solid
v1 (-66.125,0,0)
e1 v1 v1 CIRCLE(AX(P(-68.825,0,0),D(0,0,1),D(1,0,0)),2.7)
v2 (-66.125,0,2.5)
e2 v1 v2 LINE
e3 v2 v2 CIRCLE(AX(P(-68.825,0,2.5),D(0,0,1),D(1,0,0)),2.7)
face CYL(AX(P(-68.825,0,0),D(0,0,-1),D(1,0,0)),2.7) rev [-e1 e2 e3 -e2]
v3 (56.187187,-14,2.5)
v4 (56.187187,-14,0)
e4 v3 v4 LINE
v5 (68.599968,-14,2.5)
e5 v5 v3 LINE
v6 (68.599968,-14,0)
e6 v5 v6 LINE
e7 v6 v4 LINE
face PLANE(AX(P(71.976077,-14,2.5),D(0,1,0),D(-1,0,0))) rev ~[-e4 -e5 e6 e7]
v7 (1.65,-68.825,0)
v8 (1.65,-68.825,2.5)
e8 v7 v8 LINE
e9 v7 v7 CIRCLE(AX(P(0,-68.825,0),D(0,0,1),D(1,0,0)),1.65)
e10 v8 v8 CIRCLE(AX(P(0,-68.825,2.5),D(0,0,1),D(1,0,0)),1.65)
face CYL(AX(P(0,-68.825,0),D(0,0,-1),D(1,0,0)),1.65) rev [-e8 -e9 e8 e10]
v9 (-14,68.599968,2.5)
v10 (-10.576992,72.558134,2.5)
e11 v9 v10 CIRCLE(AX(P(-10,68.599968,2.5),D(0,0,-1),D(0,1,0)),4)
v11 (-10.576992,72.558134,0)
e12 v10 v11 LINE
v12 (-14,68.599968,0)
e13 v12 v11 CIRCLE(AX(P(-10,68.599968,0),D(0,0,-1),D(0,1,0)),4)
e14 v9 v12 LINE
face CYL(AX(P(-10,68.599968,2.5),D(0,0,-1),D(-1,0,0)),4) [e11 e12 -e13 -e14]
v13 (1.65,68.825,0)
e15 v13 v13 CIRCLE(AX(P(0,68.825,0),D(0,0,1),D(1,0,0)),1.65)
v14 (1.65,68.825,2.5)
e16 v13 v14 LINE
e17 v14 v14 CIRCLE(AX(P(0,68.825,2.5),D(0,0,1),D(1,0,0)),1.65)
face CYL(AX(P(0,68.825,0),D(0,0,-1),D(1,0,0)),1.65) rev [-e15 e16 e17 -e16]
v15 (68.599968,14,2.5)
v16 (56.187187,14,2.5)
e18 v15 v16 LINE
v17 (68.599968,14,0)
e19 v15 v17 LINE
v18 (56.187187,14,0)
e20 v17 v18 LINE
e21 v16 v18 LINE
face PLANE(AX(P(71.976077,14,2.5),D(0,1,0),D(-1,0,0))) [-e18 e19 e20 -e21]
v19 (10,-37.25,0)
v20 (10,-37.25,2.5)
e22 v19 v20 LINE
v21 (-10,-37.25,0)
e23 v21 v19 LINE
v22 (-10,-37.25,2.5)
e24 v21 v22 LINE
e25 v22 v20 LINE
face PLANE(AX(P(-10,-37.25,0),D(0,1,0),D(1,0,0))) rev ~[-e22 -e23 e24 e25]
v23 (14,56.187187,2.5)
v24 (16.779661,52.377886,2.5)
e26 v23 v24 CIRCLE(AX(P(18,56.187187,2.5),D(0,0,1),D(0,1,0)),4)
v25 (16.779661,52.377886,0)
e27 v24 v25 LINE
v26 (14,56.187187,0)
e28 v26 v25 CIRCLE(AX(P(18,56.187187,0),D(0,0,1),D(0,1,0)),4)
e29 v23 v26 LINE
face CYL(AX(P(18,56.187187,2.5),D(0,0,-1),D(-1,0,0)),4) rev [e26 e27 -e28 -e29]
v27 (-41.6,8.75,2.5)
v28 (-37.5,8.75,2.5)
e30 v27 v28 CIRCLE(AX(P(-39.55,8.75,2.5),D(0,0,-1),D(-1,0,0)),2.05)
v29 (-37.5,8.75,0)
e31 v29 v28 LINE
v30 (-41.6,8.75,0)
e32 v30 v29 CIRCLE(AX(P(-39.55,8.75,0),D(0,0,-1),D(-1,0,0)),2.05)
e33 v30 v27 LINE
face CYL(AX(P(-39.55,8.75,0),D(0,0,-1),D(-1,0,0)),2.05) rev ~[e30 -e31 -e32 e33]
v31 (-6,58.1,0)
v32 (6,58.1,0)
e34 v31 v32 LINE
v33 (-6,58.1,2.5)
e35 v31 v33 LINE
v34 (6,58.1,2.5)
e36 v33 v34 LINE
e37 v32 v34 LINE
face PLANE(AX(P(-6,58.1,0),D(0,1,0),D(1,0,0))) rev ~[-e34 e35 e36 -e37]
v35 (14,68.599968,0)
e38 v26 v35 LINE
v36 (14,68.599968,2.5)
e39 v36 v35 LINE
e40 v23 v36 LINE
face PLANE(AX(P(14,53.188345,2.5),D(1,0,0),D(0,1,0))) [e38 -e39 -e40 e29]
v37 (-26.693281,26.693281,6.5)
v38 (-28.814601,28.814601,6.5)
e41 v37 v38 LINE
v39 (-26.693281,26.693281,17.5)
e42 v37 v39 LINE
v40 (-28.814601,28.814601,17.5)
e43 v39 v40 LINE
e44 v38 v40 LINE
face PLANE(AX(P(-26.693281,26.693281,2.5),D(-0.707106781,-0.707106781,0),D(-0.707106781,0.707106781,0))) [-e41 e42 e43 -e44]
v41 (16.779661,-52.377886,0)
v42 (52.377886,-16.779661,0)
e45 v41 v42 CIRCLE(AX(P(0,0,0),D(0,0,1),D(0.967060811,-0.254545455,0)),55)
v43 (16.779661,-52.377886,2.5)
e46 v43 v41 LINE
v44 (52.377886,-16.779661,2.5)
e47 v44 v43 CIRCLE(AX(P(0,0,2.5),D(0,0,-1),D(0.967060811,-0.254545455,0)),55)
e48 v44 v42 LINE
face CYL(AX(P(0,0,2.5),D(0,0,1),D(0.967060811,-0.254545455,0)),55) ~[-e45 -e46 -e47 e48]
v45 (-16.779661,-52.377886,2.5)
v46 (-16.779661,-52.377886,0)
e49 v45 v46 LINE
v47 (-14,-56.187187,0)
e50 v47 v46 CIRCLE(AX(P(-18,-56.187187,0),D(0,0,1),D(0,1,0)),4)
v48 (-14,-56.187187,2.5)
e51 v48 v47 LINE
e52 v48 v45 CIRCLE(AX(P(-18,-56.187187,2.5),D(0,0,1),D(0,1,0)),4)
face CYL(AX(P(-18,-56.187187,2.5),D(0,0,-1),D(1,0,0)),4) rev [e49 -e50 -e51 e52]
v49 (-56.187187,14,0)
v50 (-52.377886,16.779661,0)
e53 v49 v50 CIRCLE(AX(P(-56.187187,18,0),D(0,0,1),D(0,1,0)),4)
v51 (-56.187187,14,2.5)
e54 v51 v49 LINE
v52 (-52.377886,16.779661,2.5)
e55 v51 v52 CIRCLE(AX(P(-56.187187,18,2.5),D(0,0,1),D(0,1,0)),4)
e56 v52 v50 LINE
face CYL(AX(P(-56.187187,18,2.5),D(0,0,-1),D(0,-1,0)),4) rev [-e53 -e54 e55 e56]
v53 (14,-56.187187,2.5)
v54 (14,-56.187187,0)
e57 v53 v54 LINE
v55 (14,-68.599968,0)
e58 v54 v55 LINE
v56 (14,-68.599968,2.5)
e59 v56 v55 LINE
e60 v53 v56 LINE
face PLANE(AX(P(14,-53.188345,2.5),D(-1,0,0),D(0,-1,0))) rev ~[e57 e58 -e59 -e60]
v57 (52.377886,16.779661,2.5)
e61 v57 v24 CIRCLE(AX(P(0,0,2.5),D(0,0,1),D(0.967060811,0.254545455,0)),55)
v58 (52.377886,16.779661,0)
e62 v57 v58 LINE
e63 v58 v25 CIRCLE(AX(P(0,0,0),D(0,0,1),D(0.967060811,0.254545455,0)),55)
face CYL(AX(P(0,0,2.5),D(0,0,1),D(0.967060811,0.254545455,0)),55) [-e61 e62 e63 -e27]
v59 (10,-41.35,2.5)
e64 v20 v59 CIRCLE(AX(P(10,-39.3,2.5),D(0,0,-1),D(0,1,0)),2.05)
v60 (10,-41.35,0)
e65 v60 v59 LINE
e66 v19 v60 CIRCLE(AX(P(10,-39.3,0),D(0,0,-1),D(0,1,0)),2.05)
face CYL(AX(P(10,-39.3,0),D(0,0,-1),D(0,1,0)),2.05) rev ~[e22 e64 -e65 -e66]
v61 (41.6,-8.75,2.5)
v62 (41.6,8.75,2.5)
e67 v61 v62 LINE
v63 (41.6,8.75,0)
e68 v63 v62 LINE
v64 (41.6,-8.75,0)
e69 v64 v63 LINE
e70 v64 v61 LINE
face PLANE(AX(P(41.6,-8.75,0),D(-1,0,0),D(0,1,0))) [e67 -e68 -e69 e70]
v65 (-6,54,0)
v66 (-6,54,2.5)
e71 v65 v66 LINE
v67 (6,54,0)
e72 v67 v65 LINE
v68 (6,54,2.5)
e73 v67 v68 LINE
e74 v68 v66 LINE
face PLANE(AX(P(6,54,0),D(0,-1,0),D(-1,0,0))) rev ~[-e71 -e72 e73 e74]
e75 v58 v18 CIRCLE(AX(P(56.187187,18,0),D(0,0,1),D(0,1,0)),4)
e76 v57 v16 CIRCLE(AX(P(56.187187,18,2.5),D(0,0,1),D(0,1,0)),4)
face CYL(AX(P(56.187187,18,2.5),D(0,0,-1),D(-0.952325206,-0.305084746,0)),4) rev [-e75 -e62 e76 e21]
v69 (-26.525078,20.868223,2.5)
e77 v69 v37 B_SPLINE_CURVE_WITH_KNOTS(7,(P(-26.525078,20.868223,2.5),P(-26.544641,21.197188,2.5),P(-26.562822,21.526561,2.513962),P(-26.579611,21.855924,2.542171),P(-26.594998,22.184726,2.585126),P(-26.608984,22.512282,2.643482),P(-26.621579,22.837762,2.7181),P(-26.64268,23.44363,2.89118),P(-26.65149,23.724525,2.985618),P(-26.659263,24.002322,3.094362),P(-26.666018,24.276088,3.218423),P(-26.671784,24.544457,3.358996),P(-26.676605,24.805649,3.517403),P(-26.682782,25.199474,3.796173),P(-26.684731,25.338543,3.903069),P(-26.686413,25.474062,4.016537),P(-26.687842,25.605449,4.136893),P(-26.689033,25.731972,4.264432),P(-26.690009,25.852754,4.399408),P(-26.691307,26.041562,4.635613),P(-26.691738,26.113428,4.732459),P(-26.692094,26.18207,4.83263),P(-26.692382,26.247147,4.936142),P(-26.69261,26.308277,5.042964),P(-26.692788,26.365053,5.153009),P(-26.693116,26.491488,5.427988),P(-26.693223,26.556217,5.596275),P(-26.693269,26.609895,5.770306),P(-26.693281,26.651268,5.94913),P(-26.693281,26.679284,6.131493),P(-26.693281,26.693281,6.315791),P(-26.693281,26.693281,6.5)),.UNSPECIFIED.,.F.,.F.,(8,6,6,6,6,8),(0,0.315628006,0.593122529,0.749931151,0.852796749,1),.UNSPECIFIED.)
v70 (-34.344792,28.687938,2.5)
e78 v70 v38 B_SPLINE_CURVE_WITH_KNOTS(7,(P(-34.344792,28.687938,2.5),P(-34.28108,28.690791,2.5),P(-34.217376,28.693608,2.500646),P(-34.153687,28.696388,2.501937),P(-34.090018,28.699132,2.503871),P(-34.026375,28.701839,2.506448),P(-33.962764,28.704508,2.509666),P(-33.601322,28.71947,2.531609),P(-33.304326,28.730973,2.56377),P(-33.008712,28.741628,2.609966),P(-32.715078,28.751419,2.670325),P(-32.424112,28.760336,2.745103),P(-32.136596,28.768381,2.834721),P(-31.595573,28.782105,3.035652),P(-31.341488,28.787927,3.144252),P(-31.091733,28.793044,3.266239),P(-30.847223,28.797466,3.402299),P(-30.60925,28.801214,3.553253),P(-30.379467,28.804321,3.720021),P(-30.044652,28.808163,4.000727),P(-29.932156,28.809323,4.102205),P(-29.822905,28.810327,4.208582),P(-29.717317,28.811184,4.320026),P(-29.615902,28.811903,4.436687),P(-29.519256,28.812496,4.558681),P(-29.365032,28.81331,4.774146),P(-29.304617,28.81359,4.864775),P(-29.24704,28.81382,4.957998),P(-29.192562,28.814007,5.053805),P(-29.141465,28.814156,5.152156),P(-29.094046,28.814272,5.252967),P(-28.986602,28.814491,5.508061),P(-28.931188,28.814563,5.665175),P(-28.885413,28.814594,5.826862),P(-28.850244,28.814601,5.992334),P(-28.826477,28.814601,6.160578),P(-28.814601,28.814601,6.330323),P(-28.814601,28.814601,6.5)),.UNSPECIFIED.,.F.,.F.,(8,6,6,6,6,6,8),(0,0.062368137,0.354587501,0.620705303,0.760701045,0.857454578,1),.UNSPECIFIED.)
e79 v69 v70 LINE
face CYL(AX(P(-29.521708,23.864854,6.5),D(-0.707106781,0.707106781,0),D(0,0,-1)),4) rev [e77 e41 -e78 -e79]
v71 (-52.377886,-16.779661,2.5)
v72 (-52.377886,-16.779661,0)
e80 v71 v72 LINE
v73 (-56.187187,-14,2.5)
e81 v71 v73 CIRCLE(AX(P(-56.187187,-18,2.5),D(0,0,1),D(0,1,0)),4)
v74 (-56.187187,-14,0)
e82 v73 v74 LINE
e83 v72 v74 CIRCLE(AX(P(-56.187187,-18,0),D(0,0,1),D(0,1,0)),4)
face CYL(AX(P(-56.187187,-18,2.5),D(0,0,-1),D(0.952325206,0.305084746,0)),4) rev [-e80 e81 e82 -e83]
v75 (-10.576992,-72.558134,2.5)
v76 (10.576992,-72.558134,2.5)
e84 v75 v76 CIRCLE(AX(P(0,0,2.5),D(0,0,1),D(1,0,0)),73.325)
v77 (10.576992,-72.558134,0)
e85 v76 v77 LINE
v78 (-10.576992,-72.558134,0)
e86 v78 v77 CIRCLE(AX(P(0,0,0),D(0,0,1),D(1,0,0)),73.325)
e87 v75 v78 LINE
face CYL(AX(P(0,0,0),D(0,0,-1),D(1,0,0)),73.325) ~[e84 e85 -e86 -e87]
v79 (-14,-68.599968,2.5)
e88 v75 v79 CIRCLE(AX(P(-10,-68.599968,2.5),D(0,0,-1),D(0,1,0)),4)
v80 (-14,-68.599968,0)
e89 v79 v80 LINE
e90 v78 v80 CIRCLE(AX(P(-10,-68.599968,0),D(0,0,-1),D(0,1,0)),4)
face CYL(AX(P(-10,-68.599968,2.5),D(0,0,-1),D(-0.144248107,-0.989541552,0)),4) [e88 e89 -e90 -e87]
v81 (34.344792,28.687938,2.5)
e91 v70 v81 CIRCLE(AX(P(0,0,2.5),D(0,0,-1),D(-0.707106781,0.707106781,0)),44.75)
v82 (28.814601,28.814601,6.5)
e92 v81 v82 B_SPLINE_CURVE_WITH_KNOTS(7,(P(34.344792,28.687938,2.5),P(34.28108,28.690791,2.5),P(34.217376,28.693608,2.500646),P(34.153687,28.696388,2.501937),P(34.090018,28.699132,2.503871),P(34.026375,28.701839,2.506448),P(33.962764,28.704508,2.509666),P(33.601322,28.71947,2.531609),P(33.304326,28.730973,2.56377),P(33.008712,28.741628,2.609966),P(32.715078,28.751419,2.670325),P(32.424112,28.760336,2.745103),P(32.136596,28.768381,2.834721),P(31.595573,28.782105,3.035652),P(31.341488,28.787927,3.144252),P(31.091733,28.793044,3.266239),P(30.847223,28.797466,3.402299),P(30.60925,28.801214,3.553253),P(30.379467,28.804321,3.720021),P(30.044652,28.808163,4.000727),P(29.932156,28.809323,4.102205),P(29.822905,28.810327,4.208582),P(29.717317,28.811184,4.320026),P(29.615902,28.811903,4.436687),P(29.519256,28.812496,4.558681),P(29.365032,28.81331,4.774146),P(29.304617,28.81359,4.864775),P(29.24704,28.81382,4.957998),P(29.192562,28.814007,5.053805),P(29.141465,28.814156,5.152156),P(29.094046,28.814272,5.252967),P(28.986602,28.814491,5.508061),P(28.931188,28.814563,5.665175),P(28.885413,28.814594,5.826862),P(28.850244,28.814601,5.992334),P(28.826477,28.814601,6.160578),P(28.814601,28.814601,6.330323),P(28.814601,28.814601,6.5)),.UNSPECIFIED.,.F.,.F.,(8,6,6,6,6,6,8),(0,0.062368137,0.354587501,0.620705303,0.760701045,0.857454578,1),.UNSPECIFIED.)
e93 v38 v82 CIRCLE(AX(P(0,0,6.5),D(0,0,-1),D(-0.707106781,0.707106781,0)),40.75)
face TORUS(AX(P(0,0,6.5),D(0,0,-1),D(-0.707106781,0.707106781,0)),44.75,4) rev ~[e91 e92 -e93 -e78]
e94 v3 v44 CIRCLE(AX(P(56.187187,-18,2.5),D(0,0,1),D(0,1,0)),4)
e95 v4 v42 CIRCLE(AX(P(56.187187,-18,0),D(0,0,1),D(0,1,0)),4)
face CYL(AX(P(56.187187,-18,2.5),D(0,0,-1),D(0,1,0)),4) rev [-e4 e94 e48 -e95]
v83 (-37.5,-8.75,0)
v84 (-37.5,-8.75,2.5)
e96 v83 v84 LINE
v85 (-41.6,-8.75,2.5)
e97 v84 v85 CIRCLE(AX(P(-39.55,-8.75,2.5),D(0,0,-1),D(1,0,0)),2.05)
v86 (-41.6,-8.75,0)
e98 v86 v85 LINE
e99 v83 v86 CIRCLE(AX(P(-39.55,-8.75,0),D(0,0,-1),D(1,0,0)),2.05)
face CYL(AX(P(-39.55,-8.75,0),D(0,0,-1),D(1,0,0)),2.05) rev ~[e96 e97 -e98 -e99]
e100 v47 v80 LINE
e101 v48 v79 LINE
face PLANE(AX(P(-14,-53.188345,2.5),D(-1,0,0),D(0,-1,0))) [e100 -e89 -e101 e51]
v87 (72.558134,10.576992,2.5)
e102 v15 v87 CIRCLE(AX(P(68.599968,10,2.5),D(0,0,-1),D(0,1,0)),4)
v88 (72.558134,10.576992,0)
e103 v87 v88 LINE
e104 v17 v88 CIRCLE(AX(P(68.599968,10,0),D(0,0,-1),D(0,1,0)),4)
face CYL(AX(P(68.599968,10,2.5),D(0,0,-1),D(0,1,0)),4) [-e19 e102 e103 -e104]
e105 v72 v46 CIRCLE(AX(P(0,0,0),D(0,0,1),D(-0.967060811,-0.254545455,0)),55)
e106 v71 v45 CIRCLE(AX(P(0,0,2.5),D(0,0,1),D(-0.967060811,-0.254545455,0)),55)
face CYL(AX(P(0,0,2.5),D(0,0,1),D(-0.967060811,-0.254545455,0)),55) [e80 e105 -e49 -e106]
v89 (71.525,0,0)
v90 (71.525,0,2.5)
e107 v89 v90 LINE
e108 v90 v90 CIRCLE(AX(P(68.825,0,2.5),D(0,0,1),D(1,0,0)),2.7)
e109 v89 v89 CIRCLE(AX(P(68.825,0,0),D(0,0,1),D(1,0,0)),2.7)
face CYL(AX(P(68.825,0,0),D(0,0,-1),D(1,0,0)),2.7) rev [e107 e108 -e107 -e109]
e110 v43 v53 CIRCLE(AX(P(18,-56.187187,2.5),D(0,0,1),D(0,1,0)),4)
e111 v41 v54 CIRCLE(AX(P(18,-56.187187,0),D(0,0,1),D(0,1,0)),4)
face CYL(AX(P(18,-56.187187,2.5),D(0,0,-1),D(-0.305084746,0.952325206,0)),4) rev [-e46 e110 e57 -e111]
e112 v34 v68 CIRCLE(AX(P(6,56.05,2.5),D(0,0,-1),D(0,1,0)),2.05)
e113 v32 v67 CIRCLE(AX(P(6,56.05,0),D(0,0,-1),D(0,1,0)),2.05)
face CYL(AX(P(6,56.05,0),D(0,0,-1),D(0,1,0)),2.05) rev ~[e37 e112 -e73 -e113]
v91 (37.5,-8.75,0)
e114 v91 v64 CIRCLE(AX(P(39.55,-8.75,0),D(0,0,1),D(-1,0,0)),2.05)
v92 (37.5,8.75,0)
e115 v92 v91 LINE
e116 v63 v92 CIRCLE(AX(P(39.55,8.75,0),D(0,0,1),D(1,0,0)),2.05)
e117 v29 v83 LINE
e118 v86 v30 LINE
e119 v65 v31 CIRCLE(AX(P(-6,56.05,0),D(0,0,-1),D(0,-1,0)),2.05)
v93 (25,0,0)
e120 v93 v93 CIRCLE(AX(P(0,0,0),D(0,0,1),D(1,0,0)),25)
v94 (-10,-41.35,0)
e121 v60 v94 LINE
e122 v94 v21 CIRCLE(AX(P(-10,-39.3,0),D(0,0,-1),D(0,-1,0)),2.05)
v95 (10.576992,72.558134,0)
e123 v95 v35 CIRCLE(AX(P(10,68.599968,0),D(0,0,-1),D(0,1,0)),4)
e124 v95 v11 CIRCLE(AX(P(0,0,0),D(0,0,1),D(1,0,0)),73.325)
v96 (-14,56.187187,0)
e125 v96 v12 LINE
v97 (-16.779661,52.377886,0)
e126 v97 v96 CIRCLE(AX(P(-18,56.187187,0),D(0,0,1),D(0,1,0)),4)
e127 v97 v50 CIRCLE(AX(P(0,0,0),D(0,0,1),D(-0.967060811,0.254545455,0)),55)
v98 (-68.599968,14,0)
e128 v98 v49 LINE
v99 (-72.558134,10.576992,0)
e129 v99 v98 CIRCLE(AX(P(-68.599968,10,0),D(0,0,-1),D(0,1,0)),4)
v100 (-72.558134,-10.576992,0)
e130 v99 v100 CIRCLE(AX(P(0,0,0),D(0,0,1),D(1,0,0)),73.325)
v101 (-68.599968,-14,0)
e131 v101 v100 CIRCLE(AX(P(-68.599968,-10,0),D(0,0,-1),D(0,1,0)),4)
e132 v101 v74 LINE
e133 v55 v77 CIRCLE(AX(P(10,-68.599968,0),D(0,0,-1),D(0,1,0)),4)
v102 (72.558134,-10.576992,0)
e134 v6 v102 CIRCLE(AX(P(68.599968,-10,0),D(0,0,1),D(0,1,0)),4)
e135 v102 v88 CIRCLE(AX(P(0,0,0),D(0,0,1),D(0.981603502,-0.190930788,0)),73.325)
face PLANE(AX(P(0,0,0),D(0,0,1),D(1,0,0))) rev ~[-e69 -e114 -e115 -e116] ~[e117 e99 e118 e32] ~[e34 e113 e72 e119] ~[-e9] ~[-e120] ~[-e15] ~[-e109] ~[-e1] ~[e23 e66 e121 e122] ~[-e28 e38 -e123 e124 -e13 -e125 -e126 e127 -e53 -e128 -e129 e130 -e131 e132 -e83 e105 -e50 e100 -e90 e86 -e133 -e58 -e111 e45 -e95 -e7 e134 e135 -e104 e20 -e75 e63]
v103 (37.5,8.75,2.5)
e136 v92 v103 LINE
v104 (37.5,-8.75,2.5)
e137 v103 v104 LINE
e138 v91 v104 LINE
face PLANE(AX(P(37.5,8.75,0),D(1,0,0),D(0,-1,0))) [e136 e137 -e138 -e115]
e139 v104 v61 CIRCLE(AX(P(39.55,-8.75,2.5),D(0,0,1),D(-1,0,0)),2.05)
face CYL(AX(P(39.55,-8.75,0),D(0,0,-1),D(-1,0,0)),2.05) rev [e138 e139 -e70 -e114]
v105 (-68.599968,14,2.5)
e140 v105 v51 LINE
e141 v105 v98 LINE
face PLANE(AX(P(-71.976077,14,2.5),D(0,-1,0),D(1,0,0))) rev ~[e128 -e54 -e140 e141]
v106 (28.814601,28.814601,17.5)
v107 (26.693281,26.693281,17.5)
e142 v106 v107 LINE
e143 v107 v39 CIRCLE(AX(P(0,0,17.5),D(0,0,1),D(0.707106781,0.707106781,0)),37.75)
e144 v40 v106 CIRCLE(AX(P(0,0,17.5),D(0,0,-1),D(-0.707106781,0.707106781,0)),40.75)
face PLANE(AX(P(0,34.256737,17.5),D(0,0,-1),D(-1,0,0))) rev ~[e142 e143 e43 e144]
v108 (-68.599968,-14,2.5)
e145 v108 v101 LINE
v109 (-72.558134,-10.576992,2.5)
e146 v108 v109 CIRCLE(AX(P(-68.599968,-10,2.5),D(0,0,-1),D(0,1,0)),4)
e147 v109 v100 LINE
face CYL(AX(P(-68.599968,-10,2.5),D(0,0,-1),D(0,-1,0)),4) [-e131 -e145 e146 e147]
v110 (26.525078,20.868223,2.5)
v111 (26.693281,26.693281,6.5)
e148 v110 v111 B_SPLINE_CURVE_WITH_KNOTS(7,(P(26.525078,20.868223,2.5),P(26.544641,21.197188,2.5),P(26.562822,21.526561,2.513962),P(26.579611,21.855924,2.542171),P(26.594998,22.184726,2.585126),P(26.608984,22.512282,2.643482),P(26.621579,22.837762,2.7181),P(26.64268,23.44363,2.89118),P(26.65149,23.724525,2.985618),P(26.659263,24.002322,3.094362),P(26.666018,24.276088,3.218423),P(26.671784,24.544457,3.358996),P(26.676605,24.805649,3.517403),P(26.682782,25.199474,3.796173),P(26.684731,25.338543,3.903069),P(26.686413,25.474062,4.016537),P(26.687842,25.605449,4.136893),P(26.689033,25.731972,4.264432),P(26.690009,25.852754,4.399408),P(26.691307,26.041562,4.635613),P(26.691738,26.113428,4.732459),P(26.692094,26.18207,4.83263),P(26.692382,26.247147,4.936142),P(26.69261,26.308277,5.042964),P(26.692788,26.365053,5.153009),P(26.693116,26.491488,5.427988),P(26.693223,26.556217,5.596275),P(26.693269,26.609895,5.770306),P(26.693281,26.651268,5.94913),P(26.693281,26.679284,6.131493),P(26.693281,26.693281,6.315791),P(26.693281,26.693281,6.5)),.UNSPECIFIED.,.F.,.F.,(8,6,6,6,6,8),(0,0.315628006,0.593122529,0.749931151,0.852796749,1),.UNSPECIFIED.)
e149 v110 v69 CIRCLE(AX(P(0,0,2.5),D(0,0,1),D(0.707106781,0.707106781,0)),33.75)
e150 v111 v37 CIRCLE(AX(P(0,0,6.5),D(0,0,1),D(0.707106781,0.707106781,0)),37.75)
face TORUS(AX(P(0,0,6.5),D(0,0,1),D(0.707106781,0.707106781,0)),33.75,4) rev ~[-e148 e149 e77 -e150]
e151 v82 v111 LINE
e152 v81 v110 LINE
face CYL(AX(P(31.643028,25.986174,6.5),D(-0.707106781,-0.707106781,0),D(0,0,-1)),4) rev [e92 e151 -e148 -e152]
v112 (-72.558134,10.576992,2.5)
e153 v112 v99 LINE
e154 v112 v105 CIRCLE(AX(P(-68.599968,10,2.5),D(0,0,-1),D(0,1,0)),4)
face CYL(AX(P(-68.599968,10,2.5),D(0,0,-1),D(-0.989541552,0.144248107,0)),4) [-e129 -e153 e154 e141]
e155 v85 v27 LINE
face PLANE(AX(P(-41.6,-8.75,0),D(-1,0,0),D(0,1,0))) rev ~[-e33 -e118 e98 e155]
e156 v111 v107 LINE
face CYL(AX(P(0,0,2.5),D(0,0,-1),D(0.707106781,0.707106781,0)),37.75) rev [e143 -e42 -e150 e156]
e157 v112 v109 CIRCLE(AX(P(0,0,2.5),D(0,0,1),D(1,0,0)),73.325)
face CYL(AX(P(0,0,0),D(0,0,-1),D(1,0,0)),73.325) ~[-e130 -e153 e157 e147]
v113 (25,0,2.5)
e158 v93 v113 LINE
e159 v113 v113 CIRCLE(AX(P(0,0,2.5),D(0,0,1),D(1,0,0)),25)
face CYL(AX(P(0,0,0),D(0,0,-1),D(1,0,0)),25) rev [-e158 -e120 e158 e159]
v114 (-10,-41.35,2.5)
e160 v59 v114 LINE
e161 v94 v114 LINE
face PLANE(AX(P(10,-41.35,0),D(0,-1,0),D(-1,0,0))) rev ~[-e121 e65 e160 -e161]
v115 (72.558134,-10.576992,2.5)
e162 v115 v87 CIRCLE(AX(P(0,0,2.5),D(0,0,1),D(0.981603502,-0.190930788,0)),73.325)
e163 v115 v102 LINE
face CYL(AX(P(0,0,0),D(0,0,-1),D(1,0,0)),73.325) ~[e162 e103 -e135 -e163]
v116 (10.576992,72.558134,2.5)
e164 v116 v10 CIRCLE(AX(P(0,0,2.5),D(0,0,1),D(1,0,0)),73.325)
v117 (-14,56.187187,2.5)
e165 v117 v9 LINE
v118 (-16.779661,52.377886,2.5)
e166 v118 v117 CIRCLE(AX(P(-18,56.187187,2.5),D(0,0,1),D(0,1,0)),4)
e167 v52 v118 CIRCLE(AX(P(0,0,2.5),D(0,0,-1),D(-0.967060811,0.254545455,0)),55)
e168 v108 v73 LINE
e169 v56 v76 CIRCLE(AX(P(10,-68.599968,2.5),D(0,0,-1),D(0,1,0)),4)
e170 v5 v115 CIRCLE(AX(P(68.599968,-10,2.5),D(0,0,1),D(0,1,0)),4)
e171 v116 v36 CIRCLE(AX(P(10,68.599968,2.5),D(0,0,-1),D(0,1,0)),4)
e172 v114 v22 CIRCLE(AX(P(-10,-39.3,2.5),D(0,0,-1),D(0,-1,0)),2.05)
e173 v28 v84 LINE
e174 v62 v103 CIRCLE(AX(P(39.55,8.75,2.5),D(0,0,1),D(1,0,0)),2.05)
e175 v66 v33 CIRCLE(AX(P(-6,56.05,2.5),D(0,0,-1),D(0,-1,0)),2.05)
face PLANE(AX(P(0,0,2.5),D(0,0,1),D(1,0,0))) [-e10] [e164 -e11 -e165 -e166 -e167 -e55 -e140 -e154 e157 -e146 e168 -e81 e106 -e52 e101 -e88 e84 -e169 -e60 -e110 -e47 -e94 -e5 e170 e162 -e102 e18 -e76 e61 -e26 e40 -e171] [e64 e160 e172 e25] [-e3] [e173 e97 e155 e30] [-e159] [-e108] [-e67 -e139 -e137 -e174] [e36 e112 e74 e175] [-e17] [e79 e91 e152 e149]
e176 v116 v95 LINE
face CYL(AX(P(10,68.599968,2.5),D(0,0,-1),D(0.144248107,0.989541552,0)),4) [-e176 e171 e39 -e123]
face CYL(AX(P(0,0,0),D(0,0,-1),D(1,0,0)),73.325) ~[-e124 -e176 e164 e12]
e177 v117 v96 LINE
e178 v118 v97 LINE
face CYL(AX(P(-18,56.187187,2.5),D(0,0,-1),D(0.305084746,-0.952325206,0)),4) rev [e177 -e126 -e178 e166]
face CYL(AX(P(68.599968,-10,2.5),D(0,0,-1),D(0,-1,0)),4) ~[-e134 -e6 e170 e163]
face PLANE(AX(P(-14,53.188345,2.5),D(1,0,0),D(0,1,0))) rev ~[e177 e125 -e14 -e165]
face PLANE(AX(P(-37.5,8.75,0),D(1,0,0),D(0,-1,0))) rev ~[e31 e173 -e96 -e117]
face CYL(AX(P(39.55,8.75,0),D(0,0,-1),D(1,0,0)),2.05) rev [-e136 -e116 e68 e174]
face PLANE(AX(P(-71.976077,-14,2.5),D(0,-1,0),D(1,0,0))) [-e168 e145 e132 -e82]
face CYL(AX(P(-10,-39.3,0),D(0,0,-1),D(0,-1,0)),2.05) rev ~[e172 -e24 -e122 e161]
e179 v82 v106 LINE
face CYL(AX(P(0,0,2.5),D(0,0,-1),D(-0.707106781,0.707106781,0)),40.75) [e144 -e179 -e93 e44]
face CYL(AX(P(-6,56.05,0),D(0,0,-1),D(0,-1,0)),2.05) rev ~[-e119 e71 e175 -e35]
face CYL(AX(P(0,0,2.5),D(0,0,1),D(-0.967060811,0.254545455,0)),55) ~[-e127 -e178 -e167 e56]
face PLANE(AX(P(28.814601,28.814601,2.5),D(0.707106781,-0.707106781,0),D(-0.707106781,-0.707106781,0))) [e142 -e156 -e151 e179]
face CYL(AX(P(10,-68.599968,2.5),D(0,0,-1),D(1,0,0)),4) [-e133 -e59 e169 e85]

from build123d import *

# Parameters (mm, degrees)
SKETCH1_R           = 73.325
SKETCH1_R_2         = 1.65
SKETCH1_R_3         = 2.7
SKETCH1_R_4         = 25
BOSS_EXTRUDE1_DEPTH = 2.5
BOSS_EXTRUDE2_DEPTH = 15
FILLET2_R           = 4
CUT_EXTRUDE1_DEPTH  = 105.776482333
FILLET1_R           = 4


with BuildPart() as part:
    # Sketch1 → Boss-Extrude1 (new body)
    with BuildSketch(Plane.XY):
        Circle(SKETCH1_R)
        with Locations((0, 68.825)):
            Circle(SKETCH1_R_2, mode=Mode.SUBTRACT)
        with Locations((-68.825, 0)):
            Circle(SKETCH1_R_3, mode=Mode.SUBTRACT)
        Circle(SKETCH1_R_4, mode=Mode.SUBTRACT)
        with Locations((0, -68.825)):
            Circle(SKETCH1_R_2, mode=Mode.SUBTRACT)
        with Locations((68.825, 0)):
            Circle(SKETCH1_R_3, mode=Mode.SUBTRACT)
        with BuildLine():
            Line((-37.5, 8.75), (-37.5, -8.75))
            ThreePointArc((-37.5, -8.75), (-39.55, -10.8), (-41.6, -8.75))
            Line((-41.6, -8.75), (-41.6, 8.75))
            ThreePointArc((-41.6, 8.75), (-39.55, 10.8), (-37.5, 8.75))
        make_face(mode=Mode.SUBTRACT)
        with BuildLine():
            Line((10, -41.35), (-10, -41.35))
            ThreePointArc((-10, -41.35), (-12.05, -39.3), (-10, -37.25))
            Line((-10, -37.25), (10, -37.25))
            ThreePointArc((10, -37.25), (12.05, -39.3), (10, -41.35))
        make_face(mode=Mode.SUBTRACT)
        with BuildLine():
            Line((41.6, -8.75), (41.6, 8.75))
            ThreePointArc((41.6, 8.75), (39.55, 10.8), (37.5, 8.75))
            Line((37.5, 8.75), (37.5, -8.75))
            ThreePointArc((37.5, -8.75), (39.55, -10.8), (41.6, -8.75))
        make_face(mode=Mode.SUBTRACT)
        with BuildLine():
            Line((-6, 58.1), (6, 58.1))
            ThreePointArc((6, 58.1), (8.05, 56.05), (6, 54))
            Line((6, 54), (-6, 54))
            ThreePointArc((-6, 54), (-8.05, 56.05), (-6, 58.1))
        make_face(mode=Mode.SUBTRACT)
    extrude(amount=BOSS_EXTRUDE1_DEPTH)

    # Sketch2 → Boss-Extrude2 (add)
    with BuildSketch(Plane.XY.offset(2.5)):
        with BuildLine():
            Line((-26.69328099, 26.69328099), (-28.814601333, 28.814601333))
            ThreePointArc((-28.814601333, 28.814601333), (0, 40.75), (28.814601333, 28.814601333))
            Line((28.814601333, 28.814601333), (26.69328099, 26.69328099))
            ThreePointArc((26.69328099, 26.69328099), (0, 37.75), (-26.69328099, 26.69328099))
        make_face()
    extrude(amount=BOSS_EXTRUDE2_DEPTH)

    # Fillet2
    fillet2_edges = [part.edges().sort_by_distance(p)[0] for p in [
        (0, 37.75, 2.5),
        (27.753941162, 27.753941162, 2.5),
        (0, 40.75, 2.5),
        (-27.753941162, 27.753941162, 2.5),
    ]]
    fillet(fillet2_edges, radius=FILLET2_R)

    # Sketch4 → Cut-Extrude1 (cut, through all)
    with BuildSketch(Plane.XY.offset(2.5)):
        with BuildLine():
            Line((71.976076755, 14), (53.188344588, 14))
            ThreePointArc((53.188344588, 14), (38.890872965, 38.890872965), (14, 53.188344588))
            Line((14, 53.188344588), (14, 71.976076755))
            ThreePointArc((14, 71.976076755), (51.848604731, 51.848604731), (71.976076755, 14))
        make_face()
        with BuildLine():
            Line((-71.976076755, -14), (-53.188344588, -14))
            ThreePointArc((-53.188344588, -14), (-38.890872965, -38.890872965), (-14, -53.188344588))
            Line((-14, -53.188344588), (-14, -71.976076755))
            ThreePointArc((-14, -71.976076755), (-51.848604731, -51.848604731), (-71.976076755, -14))
        make_face()
        with BuildLine():
            Line((71.976076755, -14), (53.188344588, -14))
            ThreePointArc((53.188344588, -14), (38.890872965, -38.890872965), (14, -53.188344588))
            Line((14, -53.188344588), (14, -71.976076755))
            ThreePointArc((14, -71.976076755), (51.848604731, -51.848604731), (71.976076755, -14))
        make_face()
        with BuildLine():
            Line((-71.976076755, 14), (-53.188344588, 14))
            ThreePointArc((-53.188344588, 14), (-38.890872965, 38.890872965), (-14, 53.188344588))
            Line((-14, 53.188344588), (-14, 71.976076755))
            ThreePointArc((-14, 71.976076755), (-51.848604731, 51.848604731), (-71.976076755, 14))
        make_face()
    extrude(amount=-CUT_EXTRUDE1_DEPTH, mode=Mode.SUBTRACT)

    # Fillet1
    fillet1_edges = [part.edges().sort_by_distance(p)[0] for p in [
        (-14, 53.188344588, 1.25),
        (-53.188344588, 14, 1.25),
        (-71.976076755, 14, 1.25),
        (-14, 71.976076755, 1.25),
        (14, 71.976076755, 1.25),
        (71.976076755, 14, 1.25),
        (53.188344588, 14, 1.25),
        (14, 53.188344588, 1.25),
        (14, -53.188344588, 1.25),
        (53.188344588, -14, 1.25),
        (71.976076755, -14, 1.25),
        (14, -71.976076755, 1.25),
        (-14, -71.976076755, 1.25),
        (-71.976076755, -14, 1.25),
        (-53.188344588, -14, 1.25),
        (-14, -53.188344588, 1.25),
    ]]
    fillet(fillet1_edges, radius=FILLET1_R)


solid = part.part
